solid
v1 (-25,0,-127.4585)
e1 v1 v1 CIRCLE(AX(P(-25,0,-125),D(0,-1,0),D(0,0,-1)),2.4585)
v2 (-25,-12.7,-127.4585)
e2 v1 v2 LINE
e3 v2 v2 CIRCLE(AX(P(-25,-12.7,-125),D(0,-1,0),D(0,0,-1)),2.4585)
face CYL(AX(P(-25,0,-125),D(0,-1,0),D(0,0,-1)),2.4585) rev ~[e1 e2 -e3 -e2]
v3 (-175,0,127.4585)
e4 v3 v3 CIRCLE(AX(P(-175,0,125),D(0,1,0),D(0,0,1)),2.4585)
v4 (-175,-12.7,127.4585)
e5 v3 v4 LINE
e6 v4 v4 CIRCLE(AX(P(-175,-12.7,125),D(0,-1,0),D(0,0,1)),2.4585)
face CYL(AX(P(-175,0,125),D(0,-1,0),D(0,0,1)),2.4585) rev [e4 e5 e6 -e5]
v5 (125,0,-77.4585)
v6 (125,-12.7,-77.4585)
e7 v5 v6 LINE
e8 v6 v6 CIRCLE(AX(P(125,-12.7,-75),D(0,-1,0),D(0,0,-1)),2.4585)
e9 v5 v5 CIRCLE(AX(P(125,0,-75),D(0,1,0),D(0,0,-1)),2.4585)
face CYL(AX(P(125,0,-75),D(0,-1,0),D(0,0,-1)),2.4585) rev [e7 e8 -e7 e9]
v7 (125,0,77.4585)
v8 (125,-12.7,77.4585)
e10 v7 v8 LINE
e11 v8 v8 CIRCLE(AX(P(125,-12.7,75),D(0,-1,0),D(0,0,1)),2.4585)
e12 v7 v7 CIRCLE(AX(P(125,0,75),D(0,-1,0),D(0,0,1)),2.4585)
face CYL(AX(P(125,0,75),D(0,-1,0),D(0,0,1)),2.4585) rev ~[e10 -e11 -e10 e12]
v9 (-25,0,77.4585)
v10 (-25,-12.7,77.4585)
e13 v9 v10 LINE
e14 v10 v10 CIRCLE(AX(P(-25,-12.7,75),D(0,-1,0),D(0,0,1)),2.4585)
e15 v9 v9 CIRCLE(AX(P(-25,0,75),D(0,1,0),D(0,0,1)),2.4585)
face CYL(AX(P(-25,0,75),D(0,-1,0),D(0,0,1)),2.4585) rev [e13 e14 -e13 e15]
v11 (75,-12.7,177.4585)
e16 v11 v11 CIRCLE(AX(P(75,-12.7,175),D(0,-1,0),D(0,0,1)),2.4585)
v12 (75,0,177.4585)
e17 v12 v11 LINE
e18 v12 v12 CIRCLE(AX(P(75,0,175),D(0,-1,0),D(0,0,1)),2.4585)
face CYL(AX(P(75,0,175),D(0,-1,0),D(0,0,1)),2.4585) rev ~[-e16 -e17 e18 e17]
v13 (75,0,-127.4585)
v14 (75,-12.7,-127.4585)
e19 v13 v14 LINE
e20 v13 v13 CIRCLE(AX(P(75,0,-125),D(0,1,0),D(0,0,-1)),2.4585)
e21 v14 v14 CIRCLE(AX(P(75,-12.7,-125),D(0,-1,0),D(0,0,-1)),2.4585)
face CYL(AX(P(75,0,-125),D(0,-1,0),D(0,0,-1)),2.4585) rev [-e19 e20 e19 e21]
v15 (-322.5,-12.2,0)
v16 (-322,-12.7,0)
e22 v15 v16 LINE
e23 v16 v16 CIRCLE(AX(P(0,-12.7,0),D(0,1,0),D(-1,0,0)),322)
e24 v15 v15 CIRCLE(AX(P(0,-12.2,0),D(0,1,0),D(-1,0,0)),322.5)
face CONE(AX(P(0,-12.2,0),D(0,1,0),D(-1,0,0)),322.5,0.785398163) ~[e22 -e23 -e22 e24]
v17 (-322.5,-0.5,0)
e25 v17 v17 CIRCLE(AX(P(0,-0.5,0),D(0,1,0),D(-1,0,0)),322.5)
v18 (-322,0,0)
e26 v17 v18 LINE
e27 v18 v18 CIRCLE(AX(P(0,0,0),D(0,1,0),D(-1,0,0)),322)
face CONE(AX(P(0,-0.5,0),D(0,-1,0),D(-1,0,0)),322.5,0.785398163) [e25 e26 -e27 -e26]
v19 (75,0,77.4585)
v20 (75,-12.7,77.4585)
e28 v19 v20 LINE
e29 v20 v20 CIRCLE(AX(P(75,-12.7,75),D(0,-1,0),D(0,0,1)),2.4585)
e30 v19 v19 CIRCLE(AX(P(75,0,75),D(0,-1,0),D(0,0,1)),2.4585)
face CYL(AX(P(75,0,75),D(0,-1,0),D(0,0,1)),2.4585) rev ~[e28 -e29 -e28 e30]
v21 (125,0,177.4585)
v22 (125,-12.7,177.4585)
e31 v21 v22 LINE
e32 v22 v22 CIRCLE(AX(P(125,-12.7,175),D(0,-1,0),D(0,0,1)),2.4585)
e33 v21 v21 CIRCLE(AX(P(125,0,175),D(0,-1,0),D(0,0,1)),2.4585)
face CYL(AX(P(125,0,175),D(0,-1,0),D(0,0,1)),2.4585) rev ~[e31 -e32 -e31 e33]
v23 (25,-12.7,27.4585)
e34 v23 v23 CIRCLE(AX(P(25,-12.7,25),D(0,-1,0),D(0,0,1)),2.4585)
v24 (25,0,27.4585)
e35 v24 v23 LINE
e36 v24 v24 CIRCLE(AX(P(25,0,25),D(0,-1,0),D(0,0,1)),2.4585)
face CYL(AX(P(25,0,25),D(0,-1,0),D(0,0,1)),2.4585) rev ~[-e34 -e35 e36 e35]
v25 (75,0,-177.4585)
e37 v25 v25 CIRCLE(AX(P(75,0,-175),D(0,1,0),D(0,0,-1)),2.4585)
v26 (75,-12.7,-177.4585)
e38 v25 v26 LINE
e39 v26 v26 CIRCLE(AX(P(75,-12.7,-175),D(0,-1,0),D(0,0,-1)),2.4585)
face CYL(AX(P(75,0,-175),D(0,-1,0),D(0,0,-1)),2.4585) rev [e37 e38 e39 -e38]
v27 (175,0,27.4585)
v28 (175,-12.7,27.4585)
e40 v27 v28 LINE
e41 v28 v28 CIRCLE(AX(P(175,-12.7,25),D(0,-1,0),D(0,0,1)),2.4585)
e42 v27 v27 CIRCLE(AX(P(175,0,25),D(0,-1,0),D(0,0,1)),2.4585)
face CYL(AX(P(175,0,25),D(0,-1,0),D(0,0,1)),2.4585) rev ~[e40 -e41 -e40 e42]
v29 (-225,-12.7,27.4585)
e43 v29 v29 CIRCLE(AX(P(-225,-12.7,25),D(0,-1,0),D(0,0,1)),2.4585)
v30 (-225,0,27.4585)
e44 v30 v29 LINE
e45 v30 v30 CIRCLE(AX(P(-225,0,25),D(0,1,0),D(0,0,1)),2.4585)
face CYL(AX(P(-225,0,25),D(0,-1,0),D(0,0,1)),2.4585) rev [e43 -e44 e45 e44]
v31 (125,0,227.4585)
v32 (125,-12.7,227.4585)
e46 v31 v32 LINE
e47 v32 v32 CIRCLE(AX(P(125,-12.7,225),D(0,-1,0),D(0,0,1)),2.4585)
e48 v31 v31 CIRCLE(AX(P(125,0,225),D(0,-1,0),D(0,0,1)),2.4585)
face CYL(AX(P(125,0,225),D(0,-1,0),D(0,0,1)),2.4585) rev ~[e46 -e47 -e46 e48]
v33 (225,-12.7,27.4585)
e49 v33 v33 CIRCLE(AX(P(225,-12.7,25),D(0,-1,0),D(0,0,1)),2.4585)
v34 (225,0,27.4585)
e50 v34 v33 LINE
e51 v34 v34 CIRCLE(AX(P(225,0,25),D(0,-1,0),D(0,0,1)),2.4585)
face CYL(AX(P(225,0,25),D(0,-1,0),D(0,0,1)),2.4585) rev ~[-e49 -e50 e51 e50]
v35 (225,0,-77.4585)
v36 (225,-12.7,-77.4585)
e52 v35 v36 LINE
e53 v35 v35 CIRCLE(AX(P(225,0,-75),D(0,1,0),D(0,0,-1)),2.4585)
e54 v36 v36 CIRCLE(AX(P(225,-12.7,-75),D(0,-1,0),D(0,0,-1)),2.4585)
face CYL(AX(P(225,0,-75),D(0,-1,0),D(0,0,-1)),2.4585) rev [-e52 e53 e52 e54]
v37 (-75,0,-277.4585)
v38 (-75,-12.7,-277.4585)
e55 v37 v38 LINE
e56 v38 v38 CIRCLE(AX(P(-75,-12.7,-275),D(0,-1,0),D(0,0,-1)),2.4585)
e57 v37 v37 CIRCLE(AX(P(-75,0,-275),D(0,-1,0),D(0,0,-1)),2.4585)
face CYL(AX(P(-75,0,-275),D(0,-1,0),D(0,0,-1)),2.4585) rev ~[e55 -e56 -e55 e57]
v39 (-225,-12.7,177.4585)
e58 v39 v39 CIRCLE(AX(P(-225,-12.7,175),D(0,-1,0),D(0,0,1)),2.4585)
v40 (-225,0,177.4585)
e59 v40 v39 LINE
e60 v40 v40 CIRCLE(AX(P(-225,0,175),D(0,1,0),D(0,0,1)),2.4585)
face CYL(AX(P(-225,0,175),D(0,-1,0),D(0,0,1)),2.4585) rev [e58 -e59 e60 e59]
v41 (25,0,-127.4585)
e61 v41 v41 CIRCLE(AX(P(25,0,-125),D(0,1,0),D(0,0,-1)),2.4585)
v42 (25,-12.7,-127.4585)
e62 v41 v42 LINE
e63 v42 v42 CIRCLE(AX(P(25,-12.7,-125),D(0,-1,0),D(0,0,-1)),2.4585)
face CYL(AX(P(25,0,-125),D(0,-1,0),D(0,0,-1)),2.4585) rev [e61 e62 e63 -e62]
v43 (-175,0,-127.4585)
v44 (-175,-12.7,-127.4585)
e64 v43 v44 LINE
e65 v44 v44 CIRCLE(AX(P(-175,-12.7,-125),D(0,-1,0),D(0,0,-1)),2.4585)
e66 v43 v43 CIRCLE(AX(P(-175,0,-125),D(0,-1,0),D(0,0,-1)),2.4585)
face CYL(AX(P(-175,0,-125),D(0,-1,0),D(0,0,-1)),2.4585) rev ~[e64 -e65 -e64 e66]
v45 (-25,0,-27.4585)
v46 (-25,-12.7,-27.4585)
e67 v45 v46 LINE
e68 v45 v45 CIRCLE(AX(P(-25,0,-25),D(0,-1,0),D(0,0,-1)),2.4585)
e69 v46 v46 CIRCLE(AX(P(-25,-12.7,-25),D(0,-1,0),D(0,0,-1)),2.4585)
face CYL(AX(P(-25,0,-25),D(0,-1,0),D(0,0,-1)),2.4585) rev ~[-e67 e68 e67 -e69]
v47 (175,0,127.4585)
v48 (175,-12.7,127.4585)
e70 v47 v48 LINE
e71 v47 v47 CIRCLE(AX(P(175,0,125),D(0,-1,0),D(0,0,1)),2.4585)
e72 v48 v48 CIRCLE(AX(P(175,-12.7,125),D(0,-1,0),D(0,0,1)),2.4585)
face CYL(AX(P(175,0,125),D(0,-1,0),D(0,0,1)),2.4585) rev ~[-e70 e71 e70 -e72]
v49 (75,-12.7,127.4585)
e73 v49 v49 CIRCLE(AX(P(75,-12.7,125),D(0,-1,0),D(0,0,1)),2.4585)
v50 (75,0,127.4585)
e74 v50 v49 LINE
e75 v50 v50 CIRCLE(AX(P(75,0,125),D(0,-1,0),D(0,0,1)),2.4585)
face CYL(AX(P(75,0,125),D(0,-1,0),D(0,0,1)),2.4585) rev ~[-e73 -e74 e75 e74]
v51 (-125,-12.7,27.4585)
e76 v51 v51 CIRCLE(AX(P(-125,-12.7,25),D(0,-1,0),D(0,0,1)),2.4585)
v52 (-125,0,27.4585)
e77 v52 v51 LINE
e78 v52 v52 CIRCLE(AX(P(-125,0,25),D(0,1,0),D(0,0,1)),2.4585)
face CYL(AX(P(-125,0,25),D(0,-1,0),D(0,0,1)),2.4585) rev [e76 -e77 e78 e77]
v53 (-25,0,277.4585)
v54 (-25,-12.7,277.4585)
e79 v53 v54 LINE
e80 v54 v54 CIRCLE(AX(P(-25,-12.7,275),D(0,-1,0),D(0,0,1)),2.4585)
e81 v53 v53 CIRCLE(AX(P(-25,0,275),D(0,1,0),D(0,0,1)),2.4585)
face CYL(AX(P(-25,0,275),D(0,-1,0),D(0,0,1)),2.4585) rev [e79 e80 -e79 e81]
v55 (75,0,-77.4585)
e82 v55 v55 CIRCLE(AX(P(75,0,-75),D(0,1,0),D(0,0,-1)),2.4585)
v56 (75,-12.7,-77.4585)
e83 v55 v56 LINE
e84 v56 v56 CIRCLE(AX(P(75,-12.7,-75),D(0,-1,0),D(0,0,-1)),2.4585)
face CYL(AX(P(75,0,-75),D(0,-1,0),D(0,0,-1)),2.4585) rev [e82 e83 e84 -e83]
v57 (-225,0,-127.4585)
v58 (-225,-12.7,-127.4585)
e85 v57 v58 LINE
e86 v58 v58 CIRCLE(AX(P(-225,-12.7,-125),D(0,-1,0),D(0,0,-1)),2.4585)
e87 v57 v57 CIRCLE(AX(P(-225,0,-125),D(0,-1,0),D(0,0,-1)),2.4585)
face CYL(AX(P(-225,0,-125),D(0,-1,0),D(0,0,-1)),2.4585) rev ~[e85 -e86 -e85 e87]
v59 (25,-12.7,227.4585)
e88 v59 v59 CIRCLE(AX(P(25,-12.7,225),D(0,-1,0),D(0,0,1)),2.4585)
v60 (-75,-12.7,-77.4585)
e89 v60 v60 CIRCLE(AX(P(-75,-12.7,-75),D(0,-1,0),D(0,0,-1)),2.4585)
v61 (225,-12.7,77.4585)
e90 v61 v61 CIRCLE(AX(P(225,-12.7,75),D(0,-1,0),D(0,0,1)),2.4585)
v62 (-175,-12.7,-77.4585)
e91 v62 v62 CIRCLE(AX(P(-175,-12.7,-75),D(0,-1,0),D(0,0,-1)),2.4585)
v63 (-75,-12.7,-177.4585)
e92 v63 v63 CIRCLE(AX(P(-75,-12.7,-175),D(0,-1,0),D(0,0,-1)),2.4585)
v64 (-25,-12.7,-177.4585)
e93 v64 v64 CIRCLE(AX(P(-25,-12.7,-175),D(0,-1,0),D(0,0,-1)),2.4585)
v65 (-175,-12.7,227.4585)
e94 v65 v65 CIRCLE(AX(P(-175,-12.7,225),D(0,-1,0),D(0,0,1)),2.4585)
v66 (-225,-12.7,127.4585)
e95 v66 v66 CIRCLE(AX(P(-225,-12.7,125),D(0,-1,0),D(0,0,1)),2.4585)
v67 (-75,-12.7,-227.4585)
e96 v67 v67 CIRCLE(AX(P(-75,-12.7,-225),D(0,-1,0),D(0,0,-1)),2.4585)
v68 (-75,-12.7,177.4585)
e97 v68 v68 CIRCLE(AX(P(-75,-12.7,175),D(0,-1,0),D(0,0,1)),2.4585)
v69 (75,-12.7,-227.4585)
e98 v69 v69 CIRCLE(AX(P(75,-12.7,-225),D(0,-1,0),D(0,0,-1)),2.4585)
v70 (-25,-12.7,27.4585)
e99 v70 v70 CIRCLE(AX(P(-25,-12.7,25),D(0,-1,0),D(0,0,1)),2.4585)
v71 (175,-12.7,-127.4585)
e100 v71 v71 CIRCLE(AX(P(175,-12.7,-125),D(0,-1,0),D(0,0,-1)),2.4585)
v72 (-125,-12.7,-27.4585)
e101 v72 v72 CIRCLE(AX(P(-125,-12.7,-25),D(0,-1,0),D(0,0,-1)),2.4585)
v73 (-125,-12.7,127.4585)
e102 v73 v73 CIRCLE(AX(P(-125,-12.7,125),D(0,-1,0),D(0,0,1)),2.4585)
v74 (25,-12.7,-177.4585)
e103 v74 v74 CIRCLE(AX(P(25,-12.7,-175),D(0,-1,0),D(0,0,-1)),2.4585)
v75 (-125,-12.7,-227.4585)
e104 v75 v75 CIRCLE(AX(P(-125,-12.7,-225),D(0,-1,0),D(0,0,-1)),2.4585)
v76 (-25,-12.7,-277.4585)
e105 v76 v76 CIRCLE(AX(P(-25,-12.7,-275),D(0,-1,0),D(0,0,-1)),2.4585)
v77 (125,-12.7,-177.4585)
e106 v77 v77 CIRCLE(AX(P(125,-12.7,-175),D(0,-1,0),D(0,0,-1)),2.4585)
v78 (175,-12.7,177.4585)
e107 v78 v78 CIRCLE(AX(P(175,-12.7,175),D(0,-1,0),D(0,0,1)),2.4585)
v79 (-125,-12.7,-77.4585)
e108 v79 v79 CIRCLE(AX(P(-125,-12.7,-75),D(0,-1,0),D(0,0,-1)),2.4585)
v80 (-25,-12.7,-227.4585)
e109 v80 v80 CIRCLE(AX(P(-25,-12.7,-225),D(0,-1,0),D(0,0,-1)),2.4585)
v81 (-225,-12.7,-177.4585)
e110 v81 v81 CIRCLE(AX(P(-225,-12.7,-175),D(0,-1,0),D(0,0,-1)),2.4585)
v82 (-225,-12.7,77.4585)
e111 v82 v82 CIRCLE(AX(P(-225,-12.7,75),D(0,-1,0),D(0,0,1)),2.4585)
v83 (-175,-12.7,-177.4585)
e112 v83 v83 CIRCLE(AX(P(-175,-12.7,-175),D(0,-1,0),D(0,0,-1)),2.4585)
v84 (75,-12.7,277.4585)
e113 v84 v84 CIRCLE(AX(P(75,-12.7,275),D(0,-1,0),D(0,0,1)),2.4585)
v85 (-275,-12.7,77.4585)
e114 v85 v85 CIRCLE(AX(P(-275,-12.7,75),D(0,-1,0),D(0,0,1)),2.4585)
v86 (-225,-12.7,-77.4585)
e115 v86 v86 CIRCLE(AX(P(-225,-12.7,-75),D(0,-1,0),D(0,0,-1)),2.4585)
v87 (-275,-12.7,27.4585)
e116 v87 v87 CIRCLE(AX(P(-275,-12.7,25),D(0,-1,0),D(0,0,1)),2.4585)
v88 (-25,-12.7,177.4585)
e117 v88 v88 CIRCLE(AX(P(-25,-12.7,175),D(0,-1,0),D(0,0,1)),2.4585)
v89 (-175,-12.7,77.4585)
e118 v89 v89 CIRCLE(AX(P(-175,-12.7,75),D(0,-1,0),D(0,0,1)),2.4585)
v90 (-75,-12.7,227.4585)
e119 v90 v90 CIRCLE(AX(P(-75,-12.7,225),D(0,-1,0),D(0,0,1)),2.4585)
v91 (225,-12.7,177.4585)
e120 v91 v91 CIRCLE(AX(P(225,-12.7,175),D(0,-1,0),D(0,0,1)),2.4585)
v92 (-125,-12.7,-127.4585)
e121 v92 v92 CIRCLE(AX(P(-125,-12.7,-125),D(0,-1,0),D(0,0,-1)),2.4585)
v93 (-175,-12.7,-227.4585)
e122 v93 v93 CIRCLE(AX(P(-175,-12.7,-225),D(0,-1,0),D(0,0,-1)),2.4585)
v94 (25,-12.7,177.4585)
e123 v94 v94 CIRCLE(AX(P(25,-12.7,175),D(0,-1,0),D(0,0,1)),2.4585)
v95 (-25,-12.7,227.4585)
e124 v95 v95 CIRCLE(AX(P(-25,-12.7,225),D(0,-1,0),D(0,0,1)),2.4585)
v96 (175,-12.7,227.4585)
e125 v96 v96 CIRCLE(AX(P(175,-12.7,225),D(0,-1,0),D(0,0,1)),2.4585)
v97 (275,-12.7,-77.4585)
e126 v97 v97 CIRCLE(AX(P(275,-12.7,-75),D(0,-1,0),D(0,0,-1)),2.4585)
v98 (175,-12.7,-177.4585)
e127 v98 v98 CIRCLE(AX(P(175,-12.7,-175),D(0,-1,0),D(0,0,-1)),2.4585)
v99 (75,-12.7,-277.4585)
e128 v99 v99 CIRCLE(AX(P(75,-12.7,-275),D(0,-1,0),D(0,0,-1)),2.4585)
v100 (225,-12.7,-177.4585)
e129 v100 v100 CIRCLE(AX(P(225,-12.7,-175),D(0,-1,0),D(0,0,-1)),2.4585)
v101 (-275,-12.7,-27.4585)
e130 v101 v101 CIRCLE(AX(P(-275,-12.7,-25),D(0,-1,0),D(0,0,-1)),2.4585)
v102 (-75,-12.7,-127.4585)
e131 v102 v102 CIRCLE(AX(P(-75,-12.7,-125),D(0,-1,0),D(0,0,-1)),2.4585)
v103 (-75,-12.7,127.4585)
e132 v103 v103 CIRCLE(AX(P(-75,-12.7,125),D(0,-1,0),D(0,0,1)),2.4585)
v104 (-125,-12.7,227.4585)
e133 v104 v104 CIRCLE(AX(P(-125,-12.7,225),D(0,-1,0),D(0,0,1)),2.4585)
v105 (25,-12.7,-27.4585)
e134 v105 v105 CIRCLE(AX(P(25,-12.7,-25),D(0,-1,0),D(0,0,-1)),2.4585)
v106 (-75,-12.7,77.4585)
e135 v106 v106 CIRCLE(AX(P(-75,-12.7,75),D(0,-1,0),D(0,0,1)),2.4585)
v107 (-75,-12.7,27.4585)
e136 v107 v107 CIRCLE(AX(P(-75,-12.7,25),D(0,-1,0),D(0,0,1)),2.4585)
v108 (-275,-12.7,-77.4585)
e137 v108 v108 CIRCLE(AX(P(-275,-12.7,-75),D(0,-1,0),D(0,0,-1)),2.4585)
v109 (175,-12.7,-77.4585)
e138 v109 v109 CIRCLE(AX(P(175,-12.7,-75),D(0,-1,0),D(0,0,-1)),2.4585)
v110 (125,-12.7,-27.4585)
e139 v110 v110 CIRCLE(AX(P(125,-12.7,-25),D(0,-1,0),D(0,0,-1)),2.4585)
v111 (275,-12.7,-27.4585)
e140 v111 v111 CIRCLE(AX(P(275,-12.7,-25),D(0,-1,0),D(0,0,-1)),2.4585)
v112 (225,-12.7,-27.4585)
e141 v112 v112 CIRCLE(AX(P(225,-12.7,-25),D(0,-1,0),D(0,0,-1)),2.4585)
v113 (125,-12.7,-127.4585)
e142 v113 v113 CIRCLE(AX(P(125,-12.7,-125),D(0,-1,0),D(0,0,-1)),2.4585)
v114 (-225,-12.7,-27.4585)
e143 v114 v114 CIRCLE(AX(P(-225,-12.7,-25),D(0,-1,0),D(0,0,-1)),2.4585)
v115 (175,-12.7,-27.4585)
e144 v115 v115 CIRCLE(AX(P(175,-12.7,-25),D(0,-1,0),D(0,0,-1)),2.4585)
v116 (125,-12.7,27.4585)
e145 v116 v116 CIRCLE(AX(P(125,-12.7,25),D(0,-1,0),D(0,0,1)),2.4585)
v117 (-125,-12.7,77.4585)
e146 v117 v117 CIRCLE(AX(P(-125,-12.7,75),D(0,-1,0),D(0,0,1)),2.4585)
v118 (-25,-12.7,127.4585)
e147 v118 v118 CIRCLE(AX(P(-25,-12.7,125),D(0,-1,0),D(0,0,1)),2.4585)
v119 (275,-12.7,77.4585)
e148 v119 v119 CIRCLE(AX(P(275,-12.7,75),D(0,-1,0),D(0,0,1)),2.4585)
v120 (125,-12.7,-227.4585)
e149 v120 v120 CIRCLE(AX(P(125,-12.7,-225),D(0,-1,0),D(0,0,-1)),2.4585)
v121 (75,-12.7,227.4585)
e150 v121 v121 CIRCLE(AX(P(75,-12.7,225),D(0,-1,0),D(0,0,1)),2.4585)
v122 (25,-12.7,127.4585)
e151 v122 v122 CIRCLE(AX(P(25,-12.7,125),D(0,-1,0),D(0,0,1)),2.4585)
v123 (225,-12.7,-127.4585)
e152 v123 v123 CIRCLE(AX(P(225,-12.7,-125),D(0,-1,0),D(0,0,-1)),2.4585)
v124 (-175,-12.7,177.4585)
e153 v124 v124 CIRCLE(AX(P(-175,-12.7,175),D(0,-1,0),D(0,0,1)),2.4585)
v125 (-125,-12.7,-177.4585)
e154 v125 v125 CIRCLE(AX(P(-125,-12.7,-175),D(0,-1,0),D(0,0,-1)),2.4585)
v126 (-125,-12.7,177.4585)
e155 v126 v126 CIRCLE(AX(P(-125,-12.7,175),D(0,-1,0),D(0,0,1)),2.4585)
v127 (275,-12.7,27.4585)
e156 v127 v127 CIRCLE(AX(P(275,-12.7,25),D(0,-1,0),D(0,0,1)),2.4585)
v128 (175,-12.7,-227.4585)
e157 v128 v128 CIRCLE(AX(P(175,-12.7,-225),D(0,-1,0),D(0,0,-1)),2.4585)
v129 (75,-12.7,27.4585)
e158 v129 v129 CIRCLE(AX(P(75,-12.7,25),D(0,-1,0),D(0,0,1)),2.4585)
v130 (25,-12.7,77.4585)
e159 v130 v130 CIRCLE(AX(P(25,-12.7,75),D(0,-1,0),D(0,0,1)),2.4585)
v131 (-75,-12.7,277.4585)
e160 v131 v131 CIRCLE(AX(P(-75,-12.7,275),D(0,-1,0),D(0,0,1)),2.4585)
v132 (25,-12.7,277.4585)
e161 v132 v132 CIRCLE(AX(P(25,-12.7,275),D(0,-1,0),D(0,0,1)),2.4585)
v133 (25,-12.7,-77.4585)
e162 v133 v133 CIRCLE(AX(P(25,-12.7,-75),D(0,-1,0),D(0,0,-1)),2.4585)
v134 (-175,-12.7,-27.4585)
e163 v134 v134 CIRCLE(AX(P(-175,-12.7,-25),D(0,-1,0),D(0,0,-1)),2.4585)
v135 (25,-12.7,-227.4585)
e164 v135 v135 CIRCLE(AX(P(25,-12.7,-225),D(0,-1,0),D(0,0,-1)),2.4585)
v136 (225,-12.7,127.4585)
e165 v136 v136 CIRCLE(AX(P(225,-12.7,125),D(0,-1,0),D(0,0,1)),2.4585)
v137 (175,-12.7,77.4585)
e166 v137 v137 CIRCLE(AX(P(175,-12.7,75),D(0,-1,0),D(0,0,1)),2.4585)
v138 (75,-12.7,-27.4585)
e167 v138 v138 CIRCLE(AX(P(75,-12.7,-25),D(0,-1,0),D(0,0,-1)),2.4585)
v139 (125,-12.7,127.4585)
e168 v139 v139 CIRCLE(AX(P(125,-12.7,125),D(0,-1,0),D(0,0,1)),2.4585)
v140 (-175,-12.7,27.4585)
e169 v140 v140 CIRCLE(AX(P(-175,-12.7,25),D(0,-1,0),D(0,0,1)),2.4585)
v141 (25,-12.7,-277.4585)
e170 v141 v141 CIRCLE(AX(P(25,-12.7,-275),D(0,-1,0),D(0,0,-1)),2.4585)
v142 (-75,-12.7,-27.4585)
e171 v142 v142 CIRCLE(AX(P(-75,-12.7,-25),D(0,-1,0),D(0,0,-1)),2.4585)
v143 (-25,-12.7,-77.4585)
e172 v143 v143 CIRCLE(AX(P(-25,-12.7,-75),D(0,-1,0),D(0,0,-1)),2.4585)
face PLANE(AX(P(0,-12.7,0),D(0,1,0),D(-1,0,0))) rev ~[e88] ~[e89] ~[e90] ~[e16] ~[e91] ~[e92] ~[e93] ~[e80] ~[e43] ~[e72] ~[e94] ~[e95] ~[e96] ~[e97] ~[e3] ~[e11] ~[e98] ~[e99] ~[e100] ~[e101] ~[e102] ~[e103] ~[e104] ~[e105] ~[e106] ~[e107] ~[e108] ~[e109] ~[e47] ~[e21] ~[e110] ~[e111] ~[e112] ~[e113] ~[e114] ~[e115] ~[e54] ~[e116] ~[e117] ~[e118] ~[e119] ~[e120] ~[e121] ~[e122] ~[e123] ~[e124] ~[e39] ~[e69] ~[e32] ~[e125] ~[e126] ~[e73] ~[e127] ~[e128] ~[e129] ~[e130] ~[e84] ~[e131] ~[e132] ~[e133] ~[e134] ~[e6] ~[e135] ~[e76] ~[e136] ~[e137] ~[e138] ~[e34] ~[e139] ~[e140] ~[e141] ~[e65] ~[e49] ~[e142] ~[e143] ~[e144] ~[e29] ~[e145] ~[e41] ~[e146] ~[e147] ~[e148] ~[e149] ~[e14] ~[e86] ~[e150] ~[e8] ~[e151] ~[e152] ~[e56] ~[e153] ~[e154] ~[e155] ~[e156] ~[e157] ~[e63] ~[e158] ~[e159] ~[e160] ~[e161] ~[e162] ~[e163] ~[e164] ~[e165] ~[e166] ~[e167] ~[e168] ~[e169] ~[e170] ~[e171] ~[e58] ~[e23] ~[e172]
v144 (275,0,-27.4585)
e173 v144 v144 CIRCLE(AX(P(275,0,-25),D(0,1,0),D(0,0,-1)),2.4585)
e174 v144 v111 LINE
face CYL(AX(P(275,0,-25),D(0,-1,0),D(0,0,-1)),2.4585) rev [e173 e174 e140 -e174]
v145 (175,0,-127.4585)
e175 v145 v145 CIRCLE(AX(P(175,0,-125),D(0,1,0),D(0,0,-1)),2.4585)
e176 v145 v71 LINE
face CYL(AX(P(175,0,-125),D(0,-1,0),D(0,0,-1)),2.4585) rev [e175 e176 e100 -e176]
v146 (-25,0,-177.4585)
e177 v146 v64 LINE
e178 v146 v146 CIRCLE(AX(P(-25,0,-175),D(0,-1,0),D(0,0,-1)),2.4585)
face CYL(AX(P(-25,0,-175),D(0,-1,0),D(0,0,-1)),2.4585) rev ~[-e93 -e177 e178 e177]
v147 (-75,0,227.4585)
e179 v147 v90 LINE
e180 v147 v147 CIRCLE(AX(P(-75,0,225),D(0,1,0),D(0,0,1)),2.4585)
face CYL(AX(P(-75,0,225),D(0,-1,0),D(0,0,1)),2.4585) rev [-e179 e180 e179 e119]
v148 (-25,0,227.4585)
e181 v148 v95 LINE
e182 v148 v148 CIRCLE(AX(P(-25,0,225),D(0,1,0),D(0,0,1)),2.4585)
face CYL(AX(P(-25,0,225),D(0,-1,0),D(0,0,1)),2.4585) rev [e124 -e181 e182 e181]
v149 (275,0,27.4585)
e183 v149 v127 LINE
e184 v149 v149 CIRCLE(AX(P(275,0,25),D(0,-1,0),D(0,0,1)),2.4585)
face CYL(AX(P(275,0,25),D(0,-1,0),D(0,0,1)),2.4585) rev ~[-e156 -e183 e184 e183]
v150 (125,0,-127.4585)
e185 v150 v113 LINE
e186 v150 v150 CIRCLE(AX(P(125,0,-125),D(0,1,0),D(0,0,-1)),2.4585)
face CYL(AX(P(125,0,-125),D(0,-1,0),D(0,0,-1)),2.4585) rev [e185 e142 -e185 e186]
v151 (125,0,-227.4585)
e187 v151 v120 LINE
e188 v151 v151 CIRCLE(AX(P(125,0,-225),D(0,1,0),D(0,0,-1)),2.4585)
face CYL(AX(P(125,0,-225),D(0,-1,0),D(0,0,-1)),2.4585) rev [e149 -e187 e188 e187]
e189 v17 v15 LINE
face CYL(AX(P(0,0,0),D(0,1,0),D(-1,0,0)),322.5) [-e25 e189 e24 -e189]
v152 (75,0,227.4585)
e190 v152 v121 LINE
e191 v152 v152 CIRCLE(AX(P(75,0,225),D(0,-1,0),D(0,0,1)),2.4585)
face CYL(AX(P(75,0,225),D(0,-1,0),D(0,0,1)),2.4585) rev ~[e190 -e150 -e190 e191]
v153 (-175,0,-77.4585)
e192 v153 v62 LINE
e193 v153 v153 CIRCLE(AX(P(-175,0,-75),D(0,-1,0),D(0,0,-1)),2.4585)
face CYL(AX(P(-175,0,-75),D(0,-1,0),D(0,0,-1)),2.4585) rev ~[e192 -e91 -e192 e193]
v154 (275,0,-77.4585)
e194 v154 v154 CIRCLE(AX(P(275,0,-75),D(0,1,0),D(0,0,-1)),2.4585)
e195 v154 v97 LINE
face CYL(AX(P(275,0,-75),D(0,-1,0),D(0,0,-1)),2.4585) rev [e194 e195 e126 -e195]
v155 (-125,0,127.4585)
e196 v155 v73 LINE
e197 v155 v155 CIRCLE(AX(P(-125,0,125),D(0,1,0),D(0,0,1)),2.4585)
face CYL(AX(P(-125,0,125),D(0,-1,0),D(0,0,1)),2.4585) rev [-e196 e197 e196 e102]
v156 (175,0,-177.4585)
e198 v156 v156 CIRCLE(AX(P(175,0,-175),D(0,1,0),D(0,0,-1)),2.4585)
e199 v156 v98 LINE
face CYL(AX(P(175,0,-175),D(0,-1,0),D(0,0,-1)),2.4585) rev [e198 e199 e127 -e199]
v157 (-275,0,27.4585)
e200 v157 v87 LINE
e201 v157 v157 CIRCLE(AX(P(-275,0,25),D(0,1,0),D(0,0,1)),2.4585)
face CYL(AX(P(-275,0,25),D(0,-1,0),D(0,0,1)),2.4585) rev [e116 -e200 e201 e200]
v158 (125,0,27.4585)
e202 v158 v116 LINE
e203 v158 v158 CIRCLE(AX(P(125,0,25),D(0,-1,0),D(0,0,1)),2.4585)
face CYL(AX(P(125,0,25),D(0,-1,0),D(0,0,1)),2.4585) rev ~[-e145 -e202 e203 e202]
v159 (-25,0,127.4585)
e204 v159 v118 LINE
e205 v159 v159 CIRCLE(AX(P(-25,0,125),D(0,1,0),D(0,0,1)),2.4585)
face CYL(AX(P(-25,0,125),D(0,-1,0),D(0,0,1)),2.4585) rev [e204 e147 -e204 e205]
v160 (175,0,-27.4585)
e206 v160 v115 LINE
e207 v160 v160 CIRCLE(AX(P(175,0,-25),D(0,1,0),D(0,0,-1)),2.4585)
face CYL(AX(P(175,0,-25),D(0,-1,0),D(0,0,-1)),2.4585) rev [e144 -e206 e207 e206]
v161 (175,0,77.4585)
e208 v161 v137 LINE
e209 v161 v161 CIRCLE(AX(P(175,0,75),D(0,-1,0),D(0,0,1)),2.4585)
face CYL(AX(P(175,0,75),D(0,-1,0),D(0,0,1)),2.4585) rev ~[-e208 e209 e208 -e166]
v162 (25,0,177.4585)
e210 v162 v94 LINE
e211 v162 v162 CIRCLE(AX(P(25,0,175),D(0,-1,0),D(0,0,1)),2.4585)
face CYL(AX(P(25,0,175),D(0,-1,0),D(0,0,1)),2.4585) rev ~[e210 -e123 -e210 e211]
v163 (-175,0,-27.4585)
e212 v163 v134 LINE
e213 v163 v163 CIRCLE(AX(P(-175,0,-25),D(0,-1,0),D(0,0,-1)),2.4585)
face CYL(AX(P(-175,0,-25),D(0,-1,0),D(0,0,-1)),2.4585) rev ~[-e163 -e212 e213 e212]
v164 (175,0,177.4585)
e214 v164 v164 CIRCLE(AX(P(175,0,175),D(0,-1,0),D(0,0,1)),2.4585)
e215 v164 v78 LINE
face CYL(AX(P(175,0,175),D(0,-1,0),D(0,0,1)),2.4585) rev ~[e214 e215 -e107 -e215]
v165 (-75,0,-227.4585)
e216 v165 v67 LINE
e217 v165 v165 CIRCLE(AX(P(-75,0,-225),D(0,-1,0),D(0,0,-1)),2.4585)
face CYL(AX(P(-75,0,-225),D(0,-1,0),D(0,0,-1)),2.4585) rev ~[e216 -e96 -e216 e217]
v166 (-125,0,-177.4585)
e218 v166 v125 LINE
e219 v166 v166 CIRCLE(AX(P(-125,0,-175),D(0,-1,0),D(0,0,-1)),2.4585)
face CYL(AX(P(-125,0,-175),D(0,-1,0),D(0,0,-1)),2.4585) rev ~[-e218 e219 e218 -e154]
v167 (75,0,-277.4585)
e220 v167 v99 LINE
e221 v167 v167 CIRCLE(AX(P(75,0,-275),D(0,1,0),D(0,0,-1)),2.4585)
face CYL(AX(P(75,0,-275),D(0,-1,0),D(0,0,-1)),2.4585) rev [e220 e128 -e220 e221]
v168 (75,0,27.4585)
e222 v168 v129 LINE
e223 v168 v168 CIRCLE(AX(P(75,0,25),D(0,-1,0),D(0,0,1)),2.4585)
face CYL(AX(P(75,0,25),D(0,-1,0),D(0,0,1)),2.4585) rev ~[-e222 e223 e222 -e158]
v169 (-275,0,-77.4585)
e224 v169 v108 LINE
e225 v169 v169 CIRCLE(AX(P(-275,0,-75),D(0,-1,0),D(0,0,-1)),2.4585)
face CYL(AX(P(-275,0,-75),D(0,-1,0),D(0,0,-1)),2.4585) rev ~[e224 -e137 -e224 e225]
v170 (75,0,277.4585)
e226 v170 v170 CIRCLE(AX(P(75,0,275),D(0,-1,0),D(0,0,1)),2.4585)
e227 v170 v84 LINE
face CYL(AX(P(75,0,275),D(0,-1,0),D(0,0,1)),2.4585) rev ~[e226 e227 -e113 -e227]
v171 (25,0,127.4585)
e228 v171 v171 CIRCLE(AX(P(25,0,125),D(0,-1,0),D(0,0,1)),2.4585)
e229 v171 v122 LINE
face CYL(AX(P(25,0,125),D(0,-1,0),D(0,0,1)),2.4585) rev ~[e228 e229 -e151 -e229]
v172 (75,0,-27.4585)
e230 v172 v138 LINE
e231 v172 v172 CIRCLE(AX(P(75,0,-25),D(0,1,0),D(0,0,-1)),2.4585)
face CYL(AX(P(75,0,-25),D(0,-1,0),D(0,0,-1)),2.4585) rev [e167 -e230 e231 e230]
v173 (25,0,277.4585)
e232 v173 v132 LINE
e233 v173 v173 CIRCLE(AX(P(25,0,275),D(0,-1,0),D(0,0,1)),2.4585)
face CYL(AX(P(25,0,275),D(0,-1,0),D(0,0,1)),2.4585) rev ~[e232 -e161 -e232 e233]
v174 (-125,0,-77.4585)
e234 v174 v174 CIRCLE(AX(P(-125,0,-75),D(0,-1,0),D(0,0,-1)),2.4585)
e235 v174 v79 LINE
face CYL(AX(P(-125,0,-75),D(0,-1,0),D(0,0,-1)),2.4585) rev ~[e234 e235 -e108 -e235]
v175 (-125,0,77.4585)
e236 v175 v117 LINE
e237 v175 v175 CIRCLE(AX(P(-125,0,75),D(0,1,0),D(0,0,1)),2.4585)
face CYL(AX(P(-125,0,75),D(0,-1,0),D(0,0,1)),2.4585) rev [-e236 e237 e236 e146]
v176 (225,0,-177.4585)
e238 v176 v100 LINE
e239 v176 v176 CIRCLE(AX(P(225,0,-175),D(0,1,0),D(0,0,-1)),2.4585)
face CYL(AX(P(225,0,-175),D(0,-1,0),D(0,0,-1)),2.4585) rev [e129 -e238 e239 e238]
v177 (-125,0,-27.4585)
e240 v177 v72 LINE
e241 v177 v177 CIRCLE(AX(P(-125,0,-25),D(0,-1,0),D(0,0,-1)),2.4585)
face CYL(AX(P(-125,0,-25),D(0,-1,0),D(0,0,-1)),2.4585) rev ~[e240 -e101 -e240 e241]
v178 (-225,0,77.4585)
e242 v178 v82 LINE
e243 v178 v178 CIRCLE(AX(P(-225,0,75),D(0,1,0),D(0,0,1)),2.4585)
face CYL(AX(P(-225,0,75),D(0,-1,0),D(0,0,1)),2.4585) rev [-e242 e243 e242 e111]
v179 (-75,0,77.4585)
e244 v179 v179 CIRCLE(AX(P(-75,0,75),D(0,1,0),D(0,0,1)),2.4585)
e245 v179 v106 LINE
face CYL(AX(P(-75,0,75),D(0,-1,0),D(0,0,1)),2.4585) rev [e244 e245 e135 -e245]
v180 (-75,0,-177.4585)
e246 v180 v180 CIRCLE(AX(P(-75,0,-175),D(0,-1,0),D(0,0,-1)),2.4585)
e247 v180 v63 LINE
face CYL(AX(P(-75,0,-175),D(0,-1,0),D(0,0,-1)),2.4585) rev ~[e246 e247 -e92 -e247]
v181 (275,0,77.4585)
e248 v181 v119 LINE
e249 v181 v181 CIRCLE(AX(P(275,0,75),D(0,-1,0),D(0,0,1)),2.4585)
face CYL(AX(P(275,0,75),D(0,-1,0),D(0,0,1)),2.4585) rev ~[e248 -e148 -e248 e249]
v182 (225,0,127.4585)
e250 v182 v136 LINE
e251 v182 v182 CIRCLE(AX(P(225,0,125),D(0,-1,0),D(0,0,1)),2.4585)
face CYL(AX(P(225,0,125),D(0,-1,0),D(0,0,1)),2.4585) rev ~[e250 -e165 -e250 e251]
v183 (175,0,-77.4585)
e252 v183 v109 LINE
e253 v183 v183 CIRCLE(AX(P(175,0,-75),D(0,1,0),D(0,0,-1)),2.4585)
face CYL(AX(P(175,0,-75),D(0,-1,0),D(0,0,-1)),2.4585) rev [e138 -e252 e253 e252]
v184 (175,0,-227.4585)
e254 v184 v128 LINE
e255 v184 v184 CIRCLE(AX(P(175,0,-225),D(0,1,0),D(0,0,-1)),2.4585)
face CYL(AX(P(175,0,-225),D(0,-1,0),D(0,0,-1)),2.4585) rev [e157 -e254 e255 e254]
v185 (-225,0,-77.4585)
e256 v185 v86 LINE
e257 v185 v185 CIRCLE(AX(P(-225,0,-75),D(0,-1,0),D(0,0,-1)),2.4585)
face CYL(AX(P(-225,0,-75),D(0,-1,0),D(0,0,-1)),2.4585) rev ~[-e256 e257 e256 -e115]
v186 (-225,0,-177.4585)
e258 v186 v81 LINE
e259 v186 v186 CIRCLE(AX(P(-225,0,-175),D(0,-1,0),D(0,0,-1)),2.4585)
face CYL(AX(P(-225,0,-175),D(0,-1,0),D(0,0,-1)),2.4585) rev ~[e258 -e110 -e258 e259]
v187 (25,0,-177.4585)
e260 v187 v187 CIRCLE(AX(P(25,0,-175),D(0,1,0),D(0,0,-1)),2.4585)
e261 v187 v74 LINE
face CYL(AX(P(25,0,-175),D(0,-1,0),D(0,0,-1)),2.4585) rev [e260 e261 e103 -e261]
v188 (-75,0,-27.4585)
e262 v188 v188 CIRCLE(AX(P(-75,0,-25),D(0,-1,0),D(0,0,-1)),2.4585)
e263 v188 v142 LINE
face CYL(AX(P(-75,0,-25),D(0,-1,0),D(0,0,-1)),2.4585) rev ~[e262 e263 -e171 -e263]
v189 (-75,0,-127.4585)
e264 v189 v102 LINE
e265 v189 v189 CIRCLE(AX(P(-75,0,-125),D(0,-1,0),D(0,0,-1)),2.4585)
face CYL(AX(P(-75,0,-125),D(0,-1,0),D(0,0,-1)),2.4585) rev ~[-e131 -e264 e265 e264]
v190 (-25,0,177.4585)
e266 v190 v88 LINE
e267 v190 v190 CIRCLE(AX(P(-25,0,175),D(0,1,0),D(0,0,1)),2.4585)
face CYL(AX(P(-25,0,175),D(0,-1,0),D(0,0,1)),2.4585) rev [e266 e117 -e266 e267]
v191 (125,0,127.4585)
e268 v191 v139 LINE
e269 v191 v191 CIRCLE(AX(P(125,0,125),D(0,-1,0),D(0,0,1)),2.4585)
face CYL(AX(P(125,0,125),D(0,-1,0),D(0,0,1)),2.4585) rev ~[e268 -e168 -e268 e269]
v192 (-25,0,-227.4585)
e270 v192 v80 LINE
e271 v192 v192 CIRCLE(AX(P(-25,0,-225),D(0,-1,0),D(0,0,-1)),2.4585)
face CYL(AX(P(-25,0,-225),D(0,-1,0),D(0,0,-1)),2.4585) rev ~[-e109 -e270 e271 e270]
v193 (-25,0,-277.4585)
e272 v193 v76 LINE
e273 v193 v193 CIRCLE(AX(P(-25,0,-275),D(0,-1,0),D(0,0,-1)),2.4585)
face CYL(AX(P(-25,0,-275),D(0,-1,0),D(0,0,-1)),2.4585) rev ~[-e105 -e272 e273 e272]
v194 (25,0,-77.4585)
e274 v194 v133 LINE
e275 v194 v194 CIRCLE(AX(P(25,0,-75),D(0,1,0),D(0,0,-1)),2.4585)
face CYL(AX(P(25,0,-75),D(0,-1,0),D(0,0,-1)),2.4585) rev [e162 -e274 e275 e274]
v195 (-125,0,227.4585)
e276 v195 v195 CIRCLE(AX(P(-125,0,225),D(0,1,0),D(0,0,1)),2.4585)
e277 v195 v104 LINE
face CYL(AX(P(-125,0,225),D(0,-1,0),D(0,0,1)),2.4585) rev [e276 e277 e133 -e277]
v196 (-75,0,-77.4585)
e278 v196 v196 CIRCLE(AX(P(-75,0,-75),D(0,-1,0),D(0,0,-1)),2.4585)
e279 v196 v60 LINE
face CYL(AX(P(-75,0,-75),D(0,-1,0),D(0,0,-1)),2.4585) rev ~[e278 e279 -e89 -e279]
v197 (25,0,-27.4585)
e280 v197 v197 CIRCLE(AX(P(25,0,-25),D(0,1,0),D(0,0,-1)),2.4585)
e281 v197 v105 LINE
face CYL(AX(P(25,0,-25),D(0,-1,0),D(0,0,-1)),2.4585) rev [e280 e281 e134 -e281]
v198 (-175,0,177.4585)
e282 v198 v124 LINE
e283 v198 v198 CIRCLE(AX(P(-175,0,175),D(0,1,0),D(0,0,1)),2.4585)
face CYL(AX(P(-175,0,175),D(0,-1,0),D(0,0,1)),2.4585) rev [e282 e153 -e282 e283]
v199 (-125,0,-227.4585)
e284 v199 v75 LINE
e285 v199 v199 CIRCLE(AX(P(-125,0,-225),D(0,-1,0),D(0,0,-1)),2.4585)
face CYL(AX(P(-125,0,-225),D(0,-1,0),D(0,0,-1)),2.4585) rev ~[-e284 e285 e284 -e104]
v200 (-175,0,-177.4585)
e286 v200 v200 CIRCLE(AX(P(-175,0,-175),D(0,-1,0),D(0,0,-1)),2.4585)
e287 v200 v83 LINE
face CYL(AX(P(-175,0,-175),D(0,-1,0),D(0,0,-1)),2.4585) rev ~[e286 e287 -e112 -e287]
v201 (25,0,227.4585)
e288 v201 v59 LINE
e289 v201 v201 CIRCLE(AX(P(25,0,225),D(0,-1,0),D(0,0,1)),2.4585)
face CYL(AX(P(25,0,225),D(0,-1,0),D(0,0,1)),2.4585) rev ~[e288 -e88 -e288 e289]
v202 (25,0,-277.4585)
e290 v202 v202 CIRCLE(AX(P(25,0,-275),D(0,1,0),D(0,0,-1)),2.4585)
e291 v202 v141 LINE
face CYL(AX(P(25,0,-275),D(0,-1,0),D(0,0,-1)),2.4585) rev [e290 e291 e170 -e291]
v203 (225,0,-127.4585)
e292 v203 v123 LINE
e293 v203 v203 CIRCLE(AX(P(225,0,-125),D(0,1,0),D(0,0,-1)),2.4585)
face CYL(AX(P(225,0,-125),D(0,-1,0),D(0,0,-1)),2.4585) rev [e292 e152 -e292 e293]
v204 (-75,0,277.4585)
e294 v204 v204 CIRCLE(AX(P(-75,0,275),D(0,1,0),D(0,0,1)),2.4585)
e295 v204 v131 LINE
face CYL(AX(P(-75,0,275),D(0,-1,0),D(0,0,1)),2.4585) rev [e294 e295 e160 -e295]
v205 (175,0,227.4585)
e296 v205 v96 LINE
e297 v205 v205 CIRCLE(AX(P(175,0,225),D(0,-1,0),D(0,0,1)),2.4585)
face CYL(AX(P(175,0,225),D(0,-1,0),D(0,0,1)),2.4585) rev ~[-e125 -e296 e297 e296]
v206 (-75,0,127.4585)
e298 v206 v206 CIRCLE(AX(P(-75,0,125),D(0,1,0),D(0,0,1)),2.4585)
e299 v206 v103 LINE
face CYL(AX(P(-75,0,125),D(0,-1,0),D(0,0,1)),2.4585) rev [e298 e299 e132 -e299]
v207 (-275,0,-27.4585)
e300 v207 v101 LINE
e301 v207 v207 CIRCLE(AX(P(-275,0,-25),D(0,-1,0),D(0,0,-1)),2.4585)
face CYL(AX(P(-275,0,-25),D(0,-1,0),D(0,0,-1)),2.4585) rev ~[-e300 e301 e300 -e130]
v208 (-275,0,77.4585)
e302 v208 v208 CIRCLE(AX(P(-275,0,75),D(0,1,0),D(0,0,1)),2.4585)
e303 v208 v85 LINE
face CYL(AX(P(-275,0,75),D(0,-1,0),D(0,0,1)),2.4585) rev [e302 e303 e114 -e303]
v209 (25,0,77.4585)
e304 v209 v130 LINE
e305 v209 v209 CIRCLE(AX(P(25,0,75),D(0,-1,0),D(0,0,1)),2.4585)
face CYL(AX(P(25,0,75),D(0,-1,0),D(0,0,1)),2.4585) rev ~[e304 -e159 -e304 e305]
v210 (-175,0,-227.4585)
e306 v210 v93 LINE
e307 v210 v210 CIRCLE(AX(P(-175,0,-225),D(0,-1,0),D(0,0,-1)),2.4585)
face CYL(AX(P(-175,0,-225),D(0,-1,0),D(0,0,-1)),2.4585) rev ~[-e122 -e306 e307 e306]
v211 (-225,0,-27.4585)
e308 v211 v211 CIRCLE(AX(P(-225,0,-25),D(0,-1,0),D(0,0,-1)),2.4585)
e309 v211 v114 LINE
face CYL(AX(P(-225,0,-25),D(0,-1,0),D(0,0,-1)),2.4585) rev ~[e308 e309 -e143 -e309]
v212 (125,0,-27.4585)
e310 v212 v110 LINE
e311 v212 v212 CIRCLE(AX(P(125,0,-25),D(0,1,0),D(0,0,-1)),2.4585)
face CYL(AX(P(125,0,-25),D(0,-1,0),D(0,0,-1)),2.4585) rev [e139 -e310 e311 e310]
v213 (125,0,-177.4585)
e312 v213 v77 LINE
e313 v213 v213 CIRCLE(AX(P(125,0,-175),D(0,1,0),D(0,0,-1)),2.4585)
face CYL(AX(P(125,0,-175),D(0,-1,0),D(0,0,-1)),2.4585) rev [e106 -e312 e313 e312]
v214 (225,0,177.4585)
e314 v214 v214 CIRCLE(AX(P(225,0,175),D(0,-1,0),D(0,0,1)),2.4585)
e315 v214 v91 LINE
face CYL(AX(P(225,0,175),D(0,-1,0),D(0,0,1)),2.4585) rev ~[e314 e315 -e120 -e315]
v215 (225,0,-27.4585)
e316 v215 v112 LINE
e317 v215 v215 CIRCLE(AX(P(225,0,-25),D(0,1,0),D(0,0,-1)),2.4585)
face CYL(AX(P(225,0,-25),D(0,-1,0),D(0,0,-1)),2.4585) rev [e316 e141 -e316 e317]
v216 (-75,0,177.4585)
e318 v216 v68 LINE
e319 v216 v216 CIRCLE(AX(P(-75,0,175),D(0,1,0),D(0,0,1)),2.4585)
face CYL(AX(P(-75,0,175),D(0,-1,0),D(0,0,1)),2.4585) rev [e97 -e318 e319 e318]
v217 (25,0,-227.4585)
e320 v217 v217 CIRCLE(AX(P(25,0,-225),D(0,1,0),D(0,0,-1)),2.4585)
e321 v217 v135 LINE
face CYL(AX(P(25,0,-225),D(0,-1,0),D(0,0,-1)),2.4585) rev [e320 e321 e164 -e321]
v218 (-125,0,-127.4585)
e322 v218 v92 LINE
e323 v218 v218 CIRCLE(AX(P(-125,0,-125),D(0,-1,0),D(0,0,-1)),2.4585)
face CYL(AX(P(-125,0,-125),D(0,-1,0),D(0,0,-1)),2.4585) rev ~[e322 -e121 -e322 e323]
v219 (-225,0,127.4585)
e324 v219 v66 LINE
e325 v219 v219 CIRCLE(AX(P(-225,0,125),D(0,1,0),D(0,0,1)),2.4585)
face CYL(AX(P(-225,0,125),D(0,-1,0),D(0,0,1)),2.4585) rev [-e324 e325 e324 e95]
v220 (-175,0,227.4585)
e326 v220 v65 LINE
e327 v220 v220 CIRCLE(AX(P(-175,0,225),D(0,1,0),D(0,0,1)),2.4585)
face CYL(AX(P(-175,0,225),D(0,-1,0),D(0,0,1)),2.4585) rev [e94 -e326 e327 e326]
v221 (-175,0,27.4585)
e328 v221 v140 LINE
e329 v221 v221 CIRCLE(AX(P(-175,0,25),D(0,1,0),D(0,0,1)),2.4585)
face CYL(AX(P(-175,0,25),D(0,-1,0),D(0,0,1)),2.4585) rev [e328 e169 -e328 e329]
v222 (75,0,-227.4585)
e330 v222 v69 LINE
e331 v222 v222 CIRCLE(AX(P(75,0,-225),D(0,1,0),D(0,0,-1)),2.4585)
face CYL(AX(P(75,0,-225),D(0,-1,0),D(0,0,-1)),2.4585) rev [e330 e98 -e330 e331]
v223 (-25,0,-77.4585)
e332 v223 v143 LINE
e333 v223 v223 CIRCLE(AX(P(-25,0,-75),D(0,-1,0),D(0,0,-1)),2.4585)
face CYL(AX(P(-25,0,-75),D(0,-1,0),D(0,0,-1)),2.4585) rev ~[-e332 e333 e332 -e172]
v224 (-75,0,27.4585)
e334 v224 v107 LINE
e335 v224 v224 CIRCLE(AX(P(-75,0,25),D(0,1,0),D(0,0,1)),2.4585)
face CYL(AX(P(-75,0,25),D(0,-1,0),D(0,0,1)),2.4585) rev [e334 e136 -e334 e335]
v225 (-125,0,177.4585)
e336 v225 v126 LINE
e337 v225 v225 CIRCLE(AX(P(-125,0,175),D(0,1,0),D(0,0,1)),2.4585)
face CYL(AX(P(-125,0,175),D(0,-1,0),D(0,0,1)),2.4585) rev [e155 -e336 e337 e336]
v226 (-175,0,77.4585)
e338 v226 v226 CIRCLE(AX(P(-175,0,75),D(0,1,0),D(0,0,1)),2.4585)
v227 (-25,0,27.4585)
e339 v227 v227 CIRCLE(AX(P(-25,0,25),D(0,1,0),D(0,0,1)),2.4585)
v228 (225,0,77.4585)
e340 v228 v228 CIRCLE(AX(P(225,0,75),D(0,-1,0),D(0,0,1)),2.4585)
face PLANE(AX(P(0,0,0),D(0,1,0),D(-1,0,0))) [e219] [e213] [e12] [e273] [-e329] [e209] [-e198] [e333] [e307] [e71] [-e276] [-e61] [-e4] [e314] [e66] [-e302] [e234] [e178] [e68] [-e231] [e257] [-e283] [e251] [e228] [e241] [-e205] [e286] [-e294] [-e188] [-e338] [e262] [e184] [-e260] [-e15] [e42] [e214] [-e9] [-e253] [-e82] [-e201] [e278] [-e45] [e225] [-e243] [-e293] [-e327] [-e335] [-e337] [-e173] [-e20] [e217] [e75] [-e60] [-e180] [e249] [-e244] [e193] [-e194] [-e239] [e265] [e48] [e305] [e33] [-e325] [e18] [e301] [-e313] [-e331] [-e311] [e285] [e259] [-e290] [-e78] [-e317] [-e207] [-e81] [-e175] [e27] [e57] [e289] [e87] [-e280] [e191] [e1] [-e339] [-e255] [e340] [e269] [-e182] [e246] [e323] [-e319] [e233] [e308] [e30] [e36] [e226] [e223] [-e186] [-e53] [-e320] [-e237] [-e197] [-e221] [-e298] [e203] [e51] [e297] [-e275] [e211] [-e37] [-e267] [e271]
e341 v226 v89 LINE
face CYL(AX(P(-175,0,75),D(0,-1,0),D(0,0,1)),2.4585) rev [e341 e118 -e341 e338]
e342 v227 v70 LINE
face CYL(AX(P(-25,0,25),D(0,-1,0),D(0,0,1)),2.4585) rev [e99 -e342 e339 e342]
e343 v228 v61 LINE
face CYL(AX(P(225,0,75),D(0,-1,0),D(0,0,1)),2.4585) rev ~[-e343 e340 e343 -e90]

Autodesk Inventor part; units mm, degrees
ref_plane "YZ Plane" through (0, 0, 0) normal (1, 0, 0) x (0, 1, 0)
ref_plane "XZ Plane" through (0, 0, 0) normal (0, 1, 0) x (-1, 0, 0)
ref_plane "XY Plane" through (0, 0, 0) normal (0, 0, 1) x (1, 0, 0)
sketch "Sketch1" plane through (0, 0, 0) normal (0, 1, 0) x (-1, 0, 0)
  circle A0 centre (0, 0) radius 322.5
  dimension "d0" = 645
extrude "Extrusion1" add sketch "Sketch1" against normal blind 12.7
sketch "Sketch2" plane through (0, 0, 0) normal (0, 1, 0) x (1, 0, 0)
  circle A0 centre (0, 0) radius 322.5 projected
  line L0 (0, 322.5) -> (0, -322.5) construction
  line L1 (-322.5, 0) -> (322.5, 0) construction
  point P0 (25, -25)
  point P1 (25, -75)
  point P2 (25, -125)
  point P3 (25, -175)
  point P4 (25, -225)
  point P5 (25, -275)
  point P6 (75, -25)
  point P7 (75, -75)
  point P8 (75, -125)
  point P9 (75, -175)
  point P10 (75, -225)
  point P11 (75, -275)
  point P12 (125, -25)
  point P13 (175, -25)
  point P14 (225, -25)
  point P15 (125, -75)
  point P16 (175, -75)
  point P17 (225, -75)
  point P18 (125, -125)
  point P19 (175, -125)
  point P20 (225, -125)
  point P21 (275, -25)
  point P22 (275, -75)
  point P23 (125, -175)
  point P24 (175, -175)
  point P25 (225, -175)
  point P26 (125, -225)
  point P27 (175, -225)
  dimension "d3" = 25
  dimension "d4" = 25
  dimension "d7" = 50
  dimension "d10" = 50
  dimension "d13" = 50
  dimension "d16" = 50
  dimension "d19" = 50
  dimension "d22" = 50
hole "Hole1" at (175, 0, 225) at (125, 0, 225) at (225, 0, 175) at (175, 0, 175) at (125, 0, 175) at (275, 0, 75) at (275, 0, 25) at (225, 0, 125) at (175, 0, 125) at (125, 0, 125) at (225, 0, 75) at (175, 0, 75) at (125, 0, 75) at (225, 0, 25) at (175, 0, 25) at (125, 0, 25) at (75, 0, 275) at (75, 0, 225) at (75, 0, 175) at (75, 0, 125) at (75, 0, 75) at (75, 0, 25) at (25, 0, 275) at (25, 0, 225) at (25, 0, 175) at (25, 0, 125) at (25, 0, 75) at (25, 0, 25) direction (0, -1, 0) diameter 4.917 end through all thread size "M6x1" class "6H" standard "ANSI Metric M Profile"
mirror "Mirror1" about plane through (0, 0, 0) normal (1, 0, 0) of "Hole1"
mirror "Mirror2" about plane through (0, 0, 0) normal (0, 0, 1) of "Hole1", "Mirror1"
chamfer "Chamfer1" distance 0.5 angle 45 2 edges at (322.5, 0, 0) (322.5, -12.7, 0)
equation "\"d3\" = 0.5 * x"
equation "\"d4\" = 0.5 * x"
equation "\"d7\" = x"
equation "\"d10\" = x"
equation "\"d13\" = x"
equation "\"d16\" = x"
equation "\"d19\" = x"
equation "\"d22\" = x"
equation "\"x\" = 50"
properties part number "Circular_Breadboard" material "Aluminum 6061"
